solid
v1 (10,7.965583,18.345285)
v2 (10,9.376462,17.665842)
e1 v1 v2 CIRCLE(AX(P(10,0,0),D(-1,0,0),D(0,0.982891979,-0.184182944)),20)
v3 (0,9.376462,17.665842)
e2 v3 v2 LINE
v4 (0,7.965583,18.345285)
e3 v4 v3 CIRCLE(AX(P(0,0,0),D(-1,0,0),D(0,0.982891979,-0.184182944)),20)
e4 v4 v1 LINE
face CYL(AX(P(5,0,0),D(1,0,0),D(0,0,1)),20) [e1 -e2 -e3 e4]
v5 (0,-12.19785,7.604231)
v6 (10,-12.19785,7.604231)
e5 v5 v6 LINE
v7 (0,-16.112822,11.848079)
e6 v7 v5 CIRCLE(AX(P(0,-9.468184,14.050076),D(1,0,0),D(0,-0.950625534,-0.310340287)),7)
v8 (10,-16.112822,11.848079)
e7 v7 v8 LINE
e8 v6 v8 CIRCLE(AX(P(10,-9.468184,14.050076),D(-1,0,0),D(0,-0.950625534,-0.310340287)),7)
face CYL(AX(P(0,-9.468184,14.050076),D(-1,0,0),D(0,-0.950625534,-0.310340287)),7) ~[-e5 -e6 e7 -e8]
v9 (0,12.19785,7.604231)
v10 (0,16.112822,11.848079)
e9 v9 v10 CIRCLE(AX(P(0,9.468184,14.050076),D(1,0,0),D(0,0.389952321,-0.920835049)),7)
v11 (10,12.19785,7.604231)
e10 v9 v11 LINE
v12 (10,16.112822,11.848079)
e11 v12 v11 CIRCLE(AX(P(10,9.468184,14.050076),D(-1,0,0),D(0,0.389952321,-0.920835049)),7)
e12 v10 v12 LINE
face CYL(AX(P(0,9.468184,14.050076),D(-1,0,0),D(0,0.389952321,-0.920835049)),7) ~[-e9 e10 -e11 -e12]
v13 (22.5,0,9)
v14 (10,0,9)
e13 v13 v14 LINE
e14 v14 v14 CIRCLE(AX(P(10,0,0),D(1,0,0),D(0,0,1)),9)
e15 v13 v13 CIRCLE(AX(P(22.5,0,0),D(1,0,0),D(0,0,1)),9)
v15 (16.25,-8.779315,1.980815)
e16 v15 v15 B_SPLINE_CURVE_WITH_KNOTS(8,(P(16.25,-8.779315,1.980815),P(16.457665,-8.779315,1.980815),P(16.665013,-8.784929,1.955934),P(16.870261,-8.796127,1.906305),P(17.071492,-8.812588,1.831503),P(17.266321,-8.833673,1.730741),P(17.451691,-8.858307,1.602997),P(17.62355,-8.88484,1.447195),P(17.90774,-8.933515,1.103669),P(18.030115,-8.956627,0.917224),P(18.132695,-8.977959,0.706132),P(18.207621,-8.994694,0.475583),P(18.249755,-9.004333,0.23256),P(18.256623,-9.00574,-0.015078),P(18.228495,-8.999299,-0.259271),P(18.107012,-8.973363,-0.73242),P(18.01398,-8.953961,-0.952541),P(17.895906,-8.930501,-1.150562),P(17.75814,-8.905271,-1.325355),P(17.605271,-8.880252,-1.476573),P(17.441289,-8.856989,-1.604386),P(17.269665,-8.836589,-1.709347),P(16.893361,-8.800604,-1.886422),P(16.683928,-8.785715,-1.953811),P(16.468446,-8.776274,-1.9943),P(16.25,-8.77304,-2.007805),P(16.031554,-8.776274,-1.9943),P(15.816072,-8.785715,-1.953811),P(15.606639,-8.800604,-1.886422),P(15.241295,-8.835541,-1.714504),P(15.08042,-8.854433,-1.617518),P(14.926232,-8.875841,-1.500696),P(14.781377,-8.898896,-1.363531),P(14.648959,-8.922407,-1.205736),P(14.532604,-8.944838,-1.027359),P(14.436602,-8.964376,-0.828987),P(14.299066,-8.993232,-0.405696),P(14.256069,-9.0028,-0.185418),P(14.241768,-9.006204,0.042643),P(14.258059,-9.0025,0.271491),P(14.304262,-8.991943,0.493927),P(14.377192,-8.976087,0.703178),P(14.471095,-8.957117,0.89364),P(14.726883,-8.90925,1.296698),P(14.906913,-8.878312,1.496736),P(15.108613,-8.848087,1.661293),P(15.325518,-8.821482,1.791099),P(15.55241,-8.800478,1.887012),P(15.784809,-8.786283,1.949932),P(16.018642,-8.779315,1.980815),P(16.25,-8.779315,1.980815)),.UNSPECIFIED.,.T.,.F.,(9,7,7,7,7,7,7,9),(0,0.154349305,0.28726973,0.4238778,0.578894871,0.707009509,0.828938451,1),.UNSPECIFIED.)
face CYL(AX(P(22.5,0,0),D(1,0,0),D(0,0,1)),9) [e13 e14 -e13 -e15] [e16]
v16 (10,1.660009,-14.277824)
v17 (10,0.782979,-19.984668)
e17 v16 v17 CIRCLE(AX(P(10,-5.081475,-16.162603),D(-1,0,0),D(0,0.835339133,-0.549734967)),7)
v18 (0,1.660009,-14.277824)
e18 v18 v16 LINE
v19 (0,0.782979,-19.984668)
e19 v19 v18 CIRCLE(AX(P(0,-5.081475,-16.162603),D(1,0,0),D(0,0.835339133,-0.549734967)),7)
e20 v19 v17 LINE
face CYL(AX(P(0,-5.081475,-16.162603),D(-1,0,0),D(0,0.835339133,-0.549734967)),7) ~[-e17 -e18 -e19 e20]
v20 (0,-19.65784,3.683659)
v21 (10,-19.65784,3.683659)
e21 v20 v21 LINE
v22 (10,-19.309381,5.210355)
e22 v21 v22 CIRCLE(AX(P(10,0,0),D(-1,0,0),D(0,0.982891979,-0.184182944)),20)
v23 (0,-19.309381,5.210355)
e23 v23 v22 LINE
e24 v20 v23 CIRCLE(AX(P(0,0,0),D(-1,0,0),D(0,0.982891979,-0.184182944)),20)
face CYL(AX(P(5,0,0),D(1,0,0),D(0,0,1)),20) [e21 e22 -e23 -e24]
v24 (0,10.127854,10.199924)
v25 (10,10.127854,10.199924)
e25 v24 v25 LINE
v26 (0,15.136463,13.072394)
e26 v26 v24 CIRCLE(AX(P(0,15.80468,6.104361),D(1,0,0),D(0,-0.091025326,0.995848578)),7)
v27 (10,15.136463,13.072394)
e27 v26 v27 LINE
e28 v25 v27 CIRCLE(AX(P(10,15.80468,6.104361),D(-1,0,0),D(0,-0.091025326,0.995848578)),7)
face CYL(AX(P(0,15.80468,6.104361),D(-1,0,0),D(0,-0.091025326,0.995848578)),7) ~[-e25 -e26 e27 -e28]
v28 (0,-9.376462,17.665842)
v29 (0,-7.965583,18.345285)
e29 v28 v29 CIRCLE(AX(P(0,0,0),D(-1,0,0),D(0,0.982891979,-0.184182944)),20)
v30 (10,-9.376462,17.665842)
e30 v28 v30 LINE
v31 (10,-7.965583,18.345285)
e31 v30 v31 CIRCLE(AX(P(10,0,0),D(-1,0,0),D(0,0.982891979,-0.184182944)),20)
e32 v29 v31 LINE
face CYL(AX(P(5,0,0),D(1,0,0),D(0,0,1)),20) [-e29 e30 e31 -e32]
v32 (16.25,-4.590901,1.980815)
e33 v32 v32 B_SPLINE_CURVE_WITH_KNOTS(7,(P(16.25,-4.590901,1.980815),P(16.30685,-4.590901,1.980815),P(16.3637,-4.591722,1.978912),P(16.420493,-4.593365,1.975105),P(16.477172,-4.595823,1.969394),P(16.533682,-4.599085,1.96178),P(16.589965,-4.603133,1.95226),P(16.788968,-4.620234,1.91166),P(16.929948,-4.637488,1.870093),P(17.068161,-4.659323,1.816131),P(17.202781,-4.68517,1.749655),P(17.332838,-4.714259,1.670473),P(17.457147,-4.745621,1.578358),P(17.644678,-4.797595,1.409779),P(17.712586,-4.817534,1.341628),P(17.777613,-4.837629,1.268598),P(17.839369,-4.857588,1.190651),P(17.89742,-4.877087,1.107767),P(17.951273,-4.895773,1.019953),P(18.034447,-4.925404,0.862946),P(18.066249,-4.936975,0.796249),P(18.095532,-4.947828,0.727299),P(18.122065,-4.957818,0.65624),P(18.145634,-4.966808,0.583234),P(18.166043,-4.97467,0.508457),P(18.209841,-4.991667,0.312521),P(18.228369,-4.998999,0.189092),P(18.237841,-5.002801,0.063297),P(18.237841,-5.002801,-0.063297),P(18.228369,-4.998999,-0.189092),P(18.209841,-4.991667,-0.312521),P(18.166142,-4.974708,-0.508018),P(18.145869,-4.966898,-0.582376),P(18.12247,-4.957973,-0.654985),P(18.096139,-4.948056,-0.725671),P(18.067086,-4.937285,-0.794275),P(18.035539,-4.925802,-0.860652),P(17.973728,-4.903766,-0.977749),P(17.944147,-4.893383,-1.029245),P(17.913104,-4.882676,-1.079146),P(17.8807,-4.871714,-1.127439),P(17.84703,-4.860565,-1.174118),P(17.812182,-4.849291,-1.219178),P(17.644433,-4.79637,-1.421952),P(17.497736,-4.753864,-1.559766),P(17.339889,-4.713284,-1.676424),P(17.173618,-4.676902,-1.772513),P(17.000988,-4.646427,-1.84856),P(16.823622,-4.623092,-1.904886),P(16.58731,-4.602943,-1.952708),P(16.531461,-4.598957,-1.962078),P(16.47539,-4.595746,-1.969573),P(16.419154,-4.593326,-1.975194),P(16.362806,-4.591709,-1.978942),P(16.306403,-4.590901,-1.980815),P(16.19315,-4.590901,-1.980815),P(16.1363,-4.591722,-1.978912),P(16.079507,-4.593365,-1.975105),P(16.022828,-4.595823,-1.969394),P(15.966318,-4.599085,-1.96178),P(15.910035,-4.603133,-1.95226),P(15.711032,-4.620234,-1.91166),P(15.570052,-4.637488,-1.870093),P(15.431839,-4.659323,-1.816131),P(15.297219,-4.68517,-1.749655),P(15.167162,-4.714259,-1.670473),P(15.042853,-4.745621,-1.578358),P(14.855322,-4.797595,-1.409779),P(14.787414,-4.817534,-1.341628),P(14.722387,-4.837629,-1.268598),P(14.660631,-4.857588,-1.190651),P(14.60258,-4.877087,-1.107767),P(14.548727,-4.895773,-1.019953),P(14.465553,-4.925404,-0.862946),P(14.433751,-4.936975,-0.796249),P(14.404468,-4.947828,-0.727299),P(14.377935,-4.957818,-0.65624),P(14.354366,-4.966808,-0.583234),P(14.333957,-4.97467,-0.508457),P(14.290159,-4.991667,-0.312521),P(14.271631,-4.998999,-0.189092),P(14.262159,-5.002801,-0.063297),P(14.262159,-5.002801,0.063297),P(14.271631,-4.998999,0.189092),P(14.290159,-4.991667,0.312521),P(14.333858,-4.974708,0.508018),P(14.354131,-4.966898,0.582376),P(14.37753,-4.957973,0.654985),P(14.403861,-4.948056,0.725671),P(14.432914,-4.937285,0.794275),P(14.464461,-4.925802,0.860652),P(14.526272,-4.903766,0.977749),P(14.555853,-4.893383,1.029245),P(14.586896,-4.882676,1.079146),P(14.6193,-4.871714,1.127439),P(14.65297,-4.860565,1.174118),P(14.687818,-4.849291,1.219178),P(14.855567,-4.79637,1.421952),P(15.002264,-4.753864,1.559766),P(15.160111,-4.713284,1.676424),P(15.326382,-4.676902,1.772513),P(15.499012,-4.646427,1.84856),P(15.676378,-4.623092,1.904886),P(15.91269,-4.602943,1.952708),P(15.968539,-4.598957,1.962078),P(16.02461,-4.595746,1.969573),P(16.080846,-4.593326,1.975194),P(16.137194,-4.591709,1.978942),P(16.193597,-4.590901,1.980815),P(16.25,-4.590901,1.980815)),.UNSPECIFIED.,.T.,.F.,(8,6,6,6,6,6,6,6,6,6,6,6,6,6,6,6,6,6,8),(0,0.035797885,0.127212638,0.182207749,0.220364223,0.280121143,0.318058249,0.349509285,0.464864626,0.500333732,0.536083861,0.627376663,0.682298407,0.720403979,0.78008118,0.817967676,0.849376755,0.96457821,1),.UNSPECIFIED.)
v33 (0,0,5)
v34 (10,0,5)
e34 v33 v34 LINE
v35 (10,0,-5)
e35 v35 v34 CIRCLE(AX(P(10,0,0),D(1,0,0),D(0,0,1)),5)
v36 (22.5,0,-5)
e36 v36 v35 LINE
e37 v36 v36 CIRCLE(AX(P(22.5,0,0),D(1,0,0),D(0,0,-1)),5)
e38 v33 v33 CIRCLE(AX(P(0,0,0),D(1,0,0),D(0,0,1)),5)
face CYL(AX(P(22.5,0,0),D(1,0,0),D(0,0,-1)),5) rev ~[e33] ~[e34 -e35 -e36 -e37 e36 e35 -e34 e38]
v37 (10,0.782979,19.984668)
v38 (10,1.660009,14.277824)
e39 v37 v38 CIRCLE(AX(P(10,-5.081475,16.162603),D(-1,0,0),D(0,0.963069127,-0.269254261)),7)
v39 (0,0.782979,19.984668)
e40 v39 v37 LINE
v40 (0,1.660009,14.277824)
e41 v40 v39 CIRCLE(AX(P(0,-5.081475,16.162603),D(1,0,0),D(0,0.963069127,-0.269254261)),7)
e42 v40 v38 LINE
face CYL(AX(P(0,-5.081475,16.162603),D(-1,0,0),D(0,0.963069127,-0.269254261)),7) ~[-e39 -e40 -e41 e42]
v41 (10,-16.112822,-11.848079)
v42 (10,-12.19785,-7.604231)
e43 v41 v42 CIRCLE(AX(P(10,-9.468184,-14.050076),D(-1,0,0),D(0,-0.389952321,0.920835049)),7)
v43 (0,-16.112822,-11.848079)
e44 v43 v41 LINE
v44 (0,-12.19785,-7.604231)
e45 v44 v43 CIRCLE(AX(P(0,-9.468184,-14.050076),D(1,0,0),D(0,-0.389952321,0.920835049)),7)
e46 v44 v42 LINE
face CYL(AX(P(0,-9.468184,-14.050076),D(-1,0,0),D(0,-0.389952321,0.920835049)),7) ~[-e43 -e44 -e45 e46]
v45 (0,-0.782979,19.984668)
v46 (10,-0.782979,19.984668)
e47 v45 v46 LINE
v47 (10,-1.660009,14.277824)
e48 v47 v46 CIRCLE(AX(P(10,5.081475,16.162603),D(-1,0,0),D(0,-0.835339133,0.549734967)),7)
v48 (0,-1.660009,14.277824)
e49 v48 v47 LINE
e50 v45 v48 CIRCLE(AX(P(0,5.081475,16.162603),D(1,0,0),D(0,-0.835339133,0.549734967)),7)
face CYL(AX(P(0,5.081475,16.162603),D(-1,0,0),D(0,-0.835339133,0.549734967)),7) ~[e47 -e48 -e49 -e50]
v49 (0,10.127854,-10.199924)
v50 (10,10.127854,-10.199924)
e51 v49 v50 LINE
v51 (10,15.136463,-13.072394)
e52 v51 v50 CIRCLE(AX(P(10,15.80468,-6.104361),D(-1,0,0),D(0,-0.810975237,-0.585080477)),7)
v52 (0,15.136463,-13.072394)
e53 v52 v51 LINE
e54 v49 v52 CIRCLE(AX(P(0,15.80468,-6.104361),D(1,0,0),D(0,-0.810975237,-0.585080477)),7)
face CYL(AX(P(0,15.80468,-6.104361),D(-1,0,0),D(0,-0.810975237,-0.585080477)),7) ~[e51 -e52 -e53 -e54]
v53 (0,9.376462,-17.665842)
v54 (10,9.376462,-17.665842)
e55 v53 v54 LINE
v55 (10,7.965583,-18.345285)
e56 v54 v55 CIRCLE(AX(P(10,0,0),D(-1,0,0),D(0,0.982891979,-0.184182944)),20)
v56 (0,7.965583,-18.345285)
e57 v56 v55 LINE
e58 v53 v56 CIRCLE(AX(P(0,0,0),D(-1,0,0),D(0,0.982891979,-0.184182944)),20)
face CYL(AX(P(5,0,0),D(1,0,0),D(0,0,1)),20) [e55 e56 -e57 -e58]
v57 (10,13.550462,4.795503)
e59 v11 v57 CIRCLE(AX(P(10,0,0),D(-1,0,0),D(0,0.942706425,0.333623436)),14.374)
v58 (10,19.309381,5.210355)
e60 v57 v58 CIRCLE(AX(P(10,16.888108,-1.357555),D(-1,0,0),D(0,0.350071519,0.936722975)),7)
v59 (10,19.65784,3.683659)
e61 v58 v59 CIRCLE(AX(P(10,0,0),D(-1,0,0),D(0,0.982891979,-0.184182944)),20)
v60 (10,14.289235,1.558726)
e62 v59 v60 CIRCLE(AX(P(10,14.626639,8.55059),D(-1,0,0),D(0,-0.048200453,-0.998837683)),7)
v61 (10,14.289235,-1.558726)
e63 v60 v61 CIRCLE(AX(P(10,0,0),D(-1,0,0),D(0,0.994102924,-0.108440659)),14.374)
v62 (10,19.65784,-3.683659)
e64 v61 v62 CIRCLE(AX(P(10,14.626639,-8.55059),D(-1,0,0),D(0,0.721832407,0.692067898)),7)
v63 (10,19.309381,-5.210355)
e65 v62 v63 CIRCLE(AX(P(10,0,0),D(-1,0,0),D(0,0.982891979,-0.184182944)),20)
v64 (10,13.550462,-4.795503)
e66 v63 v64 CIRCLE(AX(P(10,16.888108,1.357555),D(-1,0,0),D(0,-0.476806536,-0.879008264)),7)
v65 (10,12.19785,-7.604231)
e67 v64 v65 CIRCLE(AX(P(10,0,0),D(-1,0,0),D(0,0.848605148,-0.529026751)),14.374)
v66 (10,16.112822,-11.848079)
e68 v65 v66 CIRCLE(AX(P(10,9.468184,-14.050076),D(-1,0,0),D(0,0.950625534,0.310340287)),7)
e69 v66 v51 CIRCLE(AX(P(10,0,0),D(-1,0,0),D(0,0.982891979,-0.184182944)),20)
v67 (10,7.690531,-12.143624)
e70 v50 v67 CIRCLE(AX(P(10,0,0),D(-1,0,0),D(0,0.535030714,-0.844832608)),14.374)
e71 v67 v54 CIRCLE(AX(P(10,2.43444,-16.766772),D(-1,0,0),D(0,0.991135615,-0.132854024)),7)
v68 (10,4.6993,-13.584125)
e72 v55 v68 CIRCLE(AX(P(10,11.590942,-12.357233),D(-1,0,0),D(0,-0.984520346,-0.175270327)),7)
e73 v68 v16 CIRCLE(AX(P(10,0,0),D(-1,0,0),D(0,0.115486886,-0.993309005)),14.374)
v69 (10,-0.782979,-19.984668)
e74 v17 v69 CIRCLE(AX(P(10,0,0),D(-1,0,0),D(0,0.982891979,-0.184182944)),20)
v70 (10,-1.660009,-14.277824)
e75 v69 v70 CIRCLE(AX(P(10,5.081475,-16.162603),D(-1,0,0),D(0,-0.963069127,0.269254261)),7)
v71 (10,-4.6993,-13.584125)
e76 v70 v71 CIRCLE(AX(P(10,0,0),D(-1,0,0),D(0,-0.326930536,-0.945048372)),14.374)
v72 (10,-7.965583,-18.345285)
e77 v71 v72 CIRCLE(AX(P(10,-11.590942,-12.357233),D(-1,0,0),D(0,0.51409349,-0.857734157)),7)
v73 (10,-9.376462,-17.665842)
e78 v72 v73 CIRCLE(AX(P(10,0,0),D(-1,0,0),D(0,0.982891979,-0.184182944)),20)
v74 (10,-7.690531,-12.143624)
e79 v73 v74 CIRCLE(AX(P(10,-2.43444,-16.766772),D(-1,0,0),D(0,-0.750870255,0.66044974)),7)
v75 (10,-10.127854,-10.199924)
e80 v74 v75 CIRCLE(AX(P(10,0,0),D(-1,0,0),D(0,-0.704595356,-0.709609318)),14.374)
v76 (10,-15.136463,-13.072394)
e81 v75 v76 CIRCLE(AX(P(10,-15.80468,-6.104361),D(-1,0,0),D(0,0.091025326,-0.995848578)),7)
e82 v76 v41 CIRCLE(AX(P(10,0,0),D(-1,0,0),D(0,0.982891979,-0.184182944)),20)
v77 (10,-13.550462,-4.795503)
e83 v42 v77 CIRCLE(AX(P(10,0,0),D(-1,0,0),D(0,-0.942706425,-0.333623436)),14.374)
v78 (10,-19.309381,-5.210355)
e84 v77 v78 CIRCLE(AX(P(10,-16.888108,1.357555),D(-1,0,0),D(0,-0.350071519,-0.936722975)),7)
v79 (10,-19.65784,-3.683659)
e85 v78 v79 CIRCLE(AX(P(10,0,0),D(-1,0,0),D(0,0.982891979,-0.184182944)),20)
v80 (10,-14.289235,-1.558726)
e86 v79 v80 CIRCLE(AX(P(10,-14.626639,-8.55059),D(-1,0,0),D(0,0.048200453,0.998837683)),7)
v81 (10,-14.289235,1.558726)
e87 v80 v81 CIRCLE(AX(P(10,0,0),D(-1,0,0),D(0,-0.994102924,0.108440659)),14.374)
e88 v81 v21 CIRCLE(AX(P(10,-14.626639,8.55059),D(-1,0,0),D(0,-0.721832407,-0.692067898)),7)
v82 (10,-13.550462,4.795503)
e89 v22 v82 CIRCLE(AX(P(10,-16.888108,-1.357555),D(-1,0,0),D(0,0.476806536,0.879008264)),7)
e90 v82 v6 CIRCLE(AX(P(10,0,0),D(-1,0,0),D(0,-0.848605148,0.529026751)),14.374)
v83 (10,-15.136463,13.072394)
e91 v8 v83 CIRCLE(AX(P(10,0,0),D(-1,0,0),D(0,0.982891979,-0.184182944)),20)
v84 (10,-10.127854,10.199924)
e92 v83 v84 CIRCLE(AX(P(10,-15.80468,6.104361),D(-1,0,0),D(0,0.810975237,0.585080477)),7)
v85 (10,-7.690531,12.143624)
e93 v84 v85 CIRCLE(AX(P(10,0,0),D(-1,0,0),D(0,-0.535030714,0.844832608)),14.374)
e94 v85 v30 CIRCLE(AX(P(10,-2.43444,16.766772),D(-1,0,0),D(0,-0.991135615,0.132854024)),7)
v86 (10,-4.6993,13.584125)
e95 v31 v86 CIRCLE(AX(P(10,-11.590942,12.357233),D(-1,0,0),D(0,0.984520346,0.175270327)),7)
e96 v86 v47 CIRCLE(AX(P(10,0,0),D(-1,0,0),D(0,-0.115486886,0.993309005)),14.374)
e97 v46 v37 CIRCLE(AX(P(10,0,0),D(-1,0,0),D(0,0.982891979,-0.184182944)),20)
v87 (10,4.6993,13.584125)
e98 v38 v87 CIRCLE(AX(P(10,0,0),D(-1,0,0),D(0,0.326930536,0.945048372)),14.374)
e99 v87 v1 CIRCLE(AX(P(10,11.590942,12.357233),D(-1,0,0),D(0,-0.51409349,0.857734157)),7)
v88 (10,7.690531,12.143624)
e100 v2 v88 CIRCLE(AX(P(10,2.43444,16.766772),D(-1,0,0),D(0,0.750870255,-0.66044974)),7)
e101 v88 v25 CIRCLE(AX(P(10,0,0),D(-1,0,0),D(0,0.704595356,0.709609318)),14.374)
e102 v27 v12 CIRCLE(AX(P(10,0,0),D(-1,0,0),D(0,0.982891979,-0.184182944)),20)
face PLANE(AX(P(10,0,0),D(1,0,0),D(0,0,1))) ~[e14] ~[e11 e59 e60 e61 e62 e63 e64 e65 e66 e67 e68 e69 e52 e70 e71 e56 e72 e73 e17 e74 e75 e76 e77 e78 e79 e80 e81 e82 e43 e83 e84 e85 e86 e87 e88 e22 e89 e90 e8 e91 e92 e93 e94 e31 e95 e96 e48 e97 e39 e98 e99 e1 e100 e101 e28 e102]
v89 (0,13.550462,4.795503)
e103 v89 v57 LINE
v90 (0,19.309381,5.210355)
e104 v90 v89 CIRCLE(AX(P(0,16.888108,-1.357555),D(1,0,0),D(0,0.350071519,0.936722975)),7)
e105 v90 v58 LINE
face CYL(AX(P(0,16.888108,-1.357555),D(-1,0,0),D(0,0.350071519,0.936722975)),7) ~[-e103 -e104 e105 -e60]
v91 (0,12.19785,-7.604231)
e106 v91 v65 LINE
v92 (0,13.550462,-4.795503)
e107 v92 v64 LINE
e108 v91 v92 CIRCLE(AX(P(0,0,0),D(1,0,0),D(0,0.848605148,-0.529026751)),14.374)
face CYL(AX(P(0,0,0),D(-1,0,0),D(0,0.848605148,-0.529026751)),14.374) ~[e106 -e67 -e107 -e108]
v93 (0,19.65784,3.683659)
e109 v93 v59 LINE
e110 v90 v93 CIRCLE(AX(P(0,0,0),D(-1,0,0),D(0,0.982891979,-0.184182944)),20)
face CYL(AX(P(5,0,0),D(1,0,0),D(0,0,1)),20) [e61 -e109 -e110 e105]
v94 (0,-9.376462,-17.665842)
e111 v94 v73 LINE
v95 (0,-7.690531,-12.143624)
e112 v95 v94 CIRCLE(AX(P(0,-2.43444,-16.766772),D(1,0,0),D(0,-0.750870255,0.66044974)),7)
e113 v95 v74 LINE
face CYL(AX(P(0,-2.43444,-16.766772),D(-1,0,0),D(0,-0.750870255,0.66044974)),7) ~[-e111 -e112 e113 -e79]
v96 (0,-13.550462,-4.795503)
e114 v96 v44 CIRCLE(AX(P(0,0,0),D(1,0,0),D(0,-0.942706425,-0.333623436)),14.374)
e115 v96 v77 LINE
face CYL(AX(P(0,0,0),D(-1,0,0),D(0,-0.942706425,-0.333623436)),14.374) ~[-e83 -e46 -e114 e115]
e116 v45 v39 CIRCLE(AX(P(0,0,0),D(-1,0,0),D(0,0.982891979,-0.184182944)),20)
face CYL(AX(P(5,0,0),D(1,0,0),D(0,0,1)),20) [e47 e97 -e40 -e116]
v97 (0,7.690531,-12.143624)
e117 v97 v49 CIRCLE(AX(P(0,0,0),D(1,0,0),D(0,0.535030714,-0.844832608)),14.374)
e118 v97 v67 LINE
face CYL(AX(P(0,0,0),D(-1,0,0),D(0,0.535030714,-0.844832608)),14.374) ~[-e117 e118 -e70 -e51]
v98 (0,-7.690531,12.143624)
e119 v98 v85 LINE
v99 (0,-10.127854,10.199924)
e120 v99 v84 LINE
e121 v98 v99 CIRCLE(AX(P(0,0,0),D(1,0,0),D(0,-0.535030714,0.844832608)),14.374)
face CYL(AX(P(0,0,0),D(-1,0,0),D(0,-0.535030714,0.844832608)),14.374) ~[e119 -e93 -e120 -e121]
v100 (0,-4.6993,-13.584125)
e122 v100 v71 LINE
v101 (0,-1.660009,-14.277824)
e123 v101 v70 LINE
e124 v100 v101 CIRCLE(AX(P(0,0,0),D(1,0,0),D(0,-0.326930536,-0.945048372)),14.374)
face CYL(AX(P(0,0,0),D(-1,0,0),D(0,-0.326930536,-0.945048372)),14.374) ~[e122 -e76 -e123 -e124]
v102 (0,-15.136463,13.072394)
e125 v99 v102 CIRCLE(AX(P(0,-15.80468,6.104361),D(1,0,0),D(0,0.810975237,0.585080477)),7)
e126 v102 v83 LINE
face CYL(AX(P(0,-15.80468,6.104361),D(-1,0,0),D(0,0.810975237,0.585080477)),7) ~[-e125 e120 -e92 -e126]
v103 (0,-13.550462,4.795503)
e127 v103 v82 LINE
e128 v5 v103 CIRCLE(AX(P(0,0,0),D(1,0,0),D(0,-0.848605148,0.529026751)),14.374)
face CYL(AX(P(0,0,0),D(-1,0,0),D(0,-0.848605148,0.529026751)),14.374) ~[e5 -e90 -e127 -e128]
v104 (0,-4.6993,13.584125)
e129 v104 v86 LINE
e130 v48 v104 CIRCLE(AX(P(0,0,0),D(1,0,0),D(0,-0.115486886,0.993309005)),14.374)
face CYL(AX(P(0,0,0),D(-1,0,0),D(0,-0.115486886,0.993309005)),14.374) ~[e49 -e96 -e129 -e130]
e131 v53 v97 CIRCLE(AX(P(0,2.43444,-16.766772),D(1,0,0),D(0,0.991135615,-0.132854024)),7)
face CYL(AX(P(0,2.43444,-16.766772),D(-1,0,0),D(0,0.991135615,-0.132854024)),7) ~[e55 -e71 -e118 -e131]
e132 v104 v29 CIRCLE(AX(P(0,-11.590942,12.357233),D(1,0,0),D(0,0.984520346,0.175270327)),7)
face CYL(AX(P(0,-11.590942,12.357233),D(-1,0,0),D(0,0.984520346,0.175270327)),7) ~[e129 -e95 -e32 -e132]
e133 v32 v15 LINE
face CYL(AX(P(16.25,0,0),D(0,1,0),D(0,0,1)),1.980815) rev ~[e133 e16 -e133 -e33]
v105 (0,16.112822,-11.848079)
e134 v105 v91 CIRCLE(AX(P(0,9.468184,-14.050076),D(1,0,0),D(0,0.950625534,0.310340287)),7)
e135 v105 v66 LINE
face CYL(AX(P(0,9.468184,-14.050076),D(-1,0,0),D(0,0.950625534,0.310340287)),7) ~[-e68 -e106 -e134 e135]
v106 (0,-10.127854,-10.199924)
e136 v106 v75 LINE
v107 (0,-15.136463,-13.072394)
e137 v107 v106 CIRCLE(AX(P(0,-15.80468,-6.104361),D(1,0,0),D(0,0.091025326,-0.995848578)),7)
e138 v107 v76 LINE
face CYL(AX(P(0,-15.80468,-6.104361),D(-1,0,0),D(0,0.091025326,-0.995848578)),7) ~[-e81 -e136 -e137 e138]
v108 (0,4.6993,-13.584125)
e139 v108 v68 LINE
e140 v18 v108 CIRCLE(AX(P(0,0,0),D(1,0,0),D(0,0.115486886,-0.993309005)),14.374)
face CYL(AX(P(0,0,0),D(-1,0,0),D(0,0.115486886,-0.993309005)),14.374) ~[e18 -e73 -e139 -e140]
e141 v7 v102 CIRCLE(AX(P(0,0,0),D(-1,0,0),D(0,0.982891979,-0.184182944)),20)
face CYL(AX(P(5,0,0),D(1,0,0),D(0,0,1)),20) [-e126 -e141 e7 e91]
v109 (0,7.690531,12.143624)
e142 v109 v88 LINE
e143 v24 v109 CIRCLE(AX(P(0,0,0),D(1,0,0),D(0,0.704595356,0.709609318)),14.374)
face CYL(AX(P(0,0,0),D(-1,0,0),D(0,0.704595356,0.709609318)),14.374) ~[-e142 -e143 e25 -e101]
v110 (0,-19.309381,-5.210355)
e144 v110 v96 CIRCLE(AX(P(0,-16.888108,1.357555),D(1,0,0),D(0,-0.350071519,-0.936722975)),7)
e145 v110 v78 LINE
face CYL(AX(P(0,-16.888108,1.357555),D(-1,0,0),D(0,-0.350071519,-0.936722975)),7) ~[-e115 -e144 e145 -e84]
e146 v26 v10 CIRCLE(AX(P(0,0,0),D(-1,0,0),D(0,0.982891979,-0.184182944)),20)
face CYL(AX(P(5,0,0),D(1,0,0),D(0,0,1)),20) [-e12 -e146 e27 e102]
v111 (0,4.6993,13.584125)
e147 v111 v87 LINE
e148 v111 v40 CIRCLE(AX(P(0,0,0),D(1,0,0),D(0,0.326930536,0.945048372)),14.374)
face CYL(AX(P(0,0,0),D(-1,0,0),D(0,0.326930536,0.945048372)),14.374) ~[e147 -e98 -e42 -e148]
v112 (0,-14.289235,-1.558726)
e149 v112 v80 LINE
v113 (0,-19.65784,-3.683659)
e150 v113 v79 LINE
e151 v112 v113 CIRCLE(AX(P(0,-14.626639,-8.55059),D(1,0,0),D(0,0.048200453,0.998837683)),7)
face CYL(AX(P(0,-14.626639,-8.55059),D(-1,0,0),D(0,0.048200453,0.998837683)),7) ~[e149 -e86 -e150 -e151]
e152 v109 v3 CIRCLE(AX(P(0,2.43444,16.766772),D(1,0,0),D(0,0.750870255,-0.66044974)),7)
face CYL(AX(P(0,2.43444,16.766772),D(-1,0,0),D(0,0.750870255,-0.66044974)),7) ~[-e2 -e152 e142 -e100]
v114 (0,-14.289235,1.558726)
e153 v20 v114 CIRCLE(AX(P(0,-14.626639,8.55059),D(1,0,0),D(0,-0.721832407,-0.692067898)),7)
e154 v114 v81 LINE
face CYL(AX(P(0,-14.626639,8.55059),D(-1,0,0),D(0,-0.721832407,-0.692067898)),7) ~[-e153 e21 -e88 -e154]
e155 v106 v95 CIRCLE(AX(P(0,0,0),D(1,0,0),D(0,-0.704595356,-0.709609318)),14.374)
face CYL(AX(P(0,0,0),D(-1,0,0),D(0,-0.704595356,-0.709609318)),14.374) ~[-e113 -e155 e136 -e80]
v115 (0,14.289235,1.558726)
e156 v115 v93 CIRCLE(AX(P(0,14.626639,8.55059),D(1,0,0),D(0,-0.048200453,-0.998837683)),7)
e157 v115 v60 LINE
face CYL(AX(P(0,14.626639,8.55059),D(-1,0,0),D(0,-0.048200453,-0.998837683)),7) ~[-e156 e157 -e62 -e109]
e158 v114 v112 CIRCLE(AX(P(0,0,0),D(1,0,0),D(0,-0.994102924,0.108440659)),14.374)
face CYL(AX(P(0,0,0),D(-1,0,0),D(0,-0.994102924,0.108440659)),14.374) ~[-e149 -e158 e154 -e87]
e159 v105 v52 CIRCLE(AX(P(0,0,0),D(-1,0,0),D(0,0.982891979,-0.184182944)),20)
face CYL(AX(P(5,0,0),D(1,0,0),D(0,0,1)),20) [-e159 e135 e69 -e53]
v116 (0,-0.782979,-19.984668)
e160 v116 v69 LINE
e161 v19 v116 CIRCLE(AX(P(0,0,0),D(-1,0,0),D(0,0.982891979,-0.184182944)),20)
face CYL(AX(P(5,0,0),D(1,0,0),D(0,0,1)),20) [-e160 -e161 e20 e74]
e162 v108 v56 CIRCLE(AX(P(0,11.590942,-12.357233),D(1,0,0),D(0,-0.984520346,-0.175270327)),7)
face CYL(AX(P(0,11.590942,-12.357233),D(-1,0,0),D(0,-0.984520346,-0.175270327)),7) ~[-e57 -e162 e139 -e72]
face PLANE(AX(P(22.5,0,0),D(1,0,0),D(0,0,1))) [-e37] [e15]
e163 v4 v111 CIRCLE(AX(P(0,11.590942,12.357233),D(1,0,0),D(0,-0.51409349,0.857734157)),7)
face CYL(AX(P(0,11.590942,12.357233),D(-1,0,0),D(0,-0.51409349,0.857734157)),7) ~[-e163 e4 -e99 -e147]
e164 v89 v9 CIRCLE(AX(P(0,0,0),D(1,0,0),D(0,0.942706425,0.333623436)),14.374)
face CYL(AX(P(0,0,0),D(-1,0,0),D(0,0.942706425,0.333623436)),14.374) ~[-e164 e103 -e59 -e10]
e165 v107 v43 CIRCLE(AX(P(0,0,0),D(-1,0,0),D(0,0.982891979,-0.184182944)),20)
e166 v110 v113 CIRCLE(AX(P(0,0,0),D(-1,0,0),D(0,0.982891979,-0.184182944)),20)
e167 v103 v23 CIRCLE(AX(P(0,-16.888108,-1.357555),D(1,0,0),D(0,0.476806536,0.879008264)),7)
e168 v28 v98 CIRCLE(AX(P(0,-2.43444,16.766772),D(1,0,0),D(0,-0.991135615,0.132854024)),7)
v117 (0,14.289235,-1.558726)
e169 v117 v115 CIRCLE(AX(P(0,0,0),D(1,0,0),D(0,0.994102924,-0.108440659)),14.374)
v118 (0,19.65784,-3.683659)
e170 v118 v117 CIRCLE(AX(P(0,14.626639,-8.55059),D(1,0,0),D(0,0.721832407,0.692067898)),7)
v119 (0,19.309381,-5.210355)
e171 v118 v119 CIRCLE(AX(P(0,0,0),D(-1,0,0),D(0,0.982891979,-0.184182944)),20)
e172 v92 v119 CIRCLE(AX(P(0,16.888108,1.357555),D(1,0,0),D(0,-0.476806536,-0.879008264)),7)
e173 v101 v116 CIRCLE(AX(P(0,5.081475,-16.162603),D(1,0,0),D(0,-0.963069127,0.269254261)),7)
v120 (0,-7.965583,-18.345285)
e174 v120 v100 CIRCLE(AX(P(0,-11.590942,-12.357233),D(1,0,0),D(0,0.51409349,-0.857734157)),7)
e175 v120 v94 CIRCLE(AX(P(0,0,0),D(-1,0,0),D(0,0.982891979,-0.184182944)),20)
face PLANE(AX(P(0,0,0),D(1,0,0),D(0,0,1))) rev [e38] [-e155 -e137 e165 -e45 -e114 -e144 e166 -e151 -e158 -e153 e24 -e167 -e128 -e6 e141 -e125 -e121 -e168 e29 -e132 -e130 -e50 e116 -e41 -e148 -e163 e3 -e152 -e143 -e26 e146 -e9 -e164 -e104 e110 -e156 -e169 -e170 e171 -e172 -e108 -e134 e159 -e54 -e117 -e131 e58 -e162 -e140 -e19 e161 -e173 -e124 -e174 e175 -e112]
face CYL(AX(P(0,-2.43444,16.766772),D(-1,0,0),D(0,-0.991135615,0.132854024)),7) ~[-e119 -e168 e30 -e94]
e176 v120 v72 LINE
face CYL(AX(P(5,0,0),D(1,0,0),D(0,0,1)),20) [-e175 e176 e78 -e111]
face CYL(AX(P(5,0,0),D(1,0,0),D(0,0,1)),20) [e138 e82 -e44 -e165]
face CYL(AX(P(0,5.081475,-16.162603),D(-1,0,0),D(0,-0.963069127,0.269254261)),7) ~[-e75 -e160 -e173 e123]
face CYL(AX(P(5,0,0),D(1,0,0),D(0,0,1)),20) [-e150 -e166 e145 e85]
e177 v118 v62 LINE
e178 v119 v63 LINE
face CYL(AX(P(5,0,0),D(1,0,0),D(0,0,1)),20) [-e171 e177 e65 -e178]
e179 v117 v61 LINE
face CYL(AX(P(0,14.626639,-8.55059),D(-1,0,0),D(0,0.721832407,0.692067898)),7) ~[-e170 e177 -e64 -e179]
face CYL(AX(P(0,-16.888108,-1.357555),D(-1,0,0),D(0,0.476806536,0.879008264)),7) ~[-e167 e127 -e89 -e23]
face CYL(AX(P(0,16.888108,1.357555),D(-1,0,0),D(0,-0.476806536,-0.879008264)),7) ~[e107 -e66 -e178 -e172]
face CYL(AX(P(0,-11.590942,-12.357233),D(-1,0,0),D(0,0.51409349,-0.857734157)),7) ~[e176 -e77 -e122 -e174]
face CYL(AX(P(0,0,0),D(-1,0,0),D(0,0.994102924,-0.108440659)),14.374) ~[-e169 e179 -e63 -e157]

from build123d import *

# Parameters (mm, degrees)
BASPROSKE_W             = 10
BASPROSKE_H             = 20
TOOTHCUT_DEPTH          = 31
TEETHCUTS_COUNT         = 14
TEETHCUTS_ANGLE         = 334.285714286
BORSKE_R                = 5
BORE_DEPTH              = 50.0000508
BOSS_EXTRU_1_START      = 12.5
ESQUISSE1_R             = 9
ESQUISSE1_R_2           = 5
BOSS_EXTRU_1_DEPTH      = 12.5
ESQUISSE2_R             = 1.980815445
ENL_V_MAT_EXTRU_1_DEPTH = 12.5


with BuildPart() as part:
    # BasProSke → Base-Revolve (revolve)
    with BuildSketch(Plane(origin=(0, 0, 0), x_dir=(1, 0, 0), z_dir=(0, 1, 0)), mode=Mode.PRIVATE) as base_revolve_sk:
        with Locations((5, 10)):
            Rectangle(BASPROSKE_W, BASPROSKE_H)
    revolve(base_revolve_sk.sketch.rotate(Axis((-10, 0, 0), (1, 0, 0)), 180), axis=Axis((-10, 0, 0), (1, 0, 0)))

    # TooCutSke → ToothCut (cut, through all)
    with BuildSketch(Plane(origin=(0, 0, 0), x_dir=(0, 0, -1), z_dir=(1, 0, 0))):
        with BuildLine():
            ThreePointArc((1.558726024, 14.28923543), (0, 14.374), (-1.558726024, 14.28923543))
            ThreePointArc((-1.558726024, 14.28923543), (-2.047638508, 17.217318907), (-3.706114514, 19.679465449))
            ThreePointArc((-3.706114514, 19.679465449), (0, 20.0254), (3.706114514, 19.679465449))
            ThreePointArc((3.706114514, 19.679465449), (2.047638508, 17.217318907), (1.558726024, 14.28923543))
        make_face()
    toothcut = extrude(amount=TOOTHCUT_DEPTH, mode=Mode.SUBTRACT)

    # TeethCuts: ToothCut ×14 about axis
    teethcuts_axis = Axis((-10, 0, 0), (1, 0, 0))
    for i in range(1, TEETHCUTS_COUNT):
        add(toothcut.rotate(teethcuts_axis, i * TEETHCUTS_ANGLE / (TEETHCUTS_COUNT - 1)), mode=Mode.SUBTRACT)

    # BorSke → Bore (cut, symmetric)
    with BuildSketch(Plane(origin=(0, 0, 0), x_dir=(0, 0, -1), z_dir=(1, 0, 0))):
        with Locations(Location((0, 0, 0), (0, 0, 180))):
            Circle(BORSKE_R)
    extrude(amount=BORE_DEPTH, both=True, mode=Mode.SUBTRACT)

    # Esquisse1 → Boss.-Extru.1 (add)
    with BuildSketch(Plane(origin=(10, 0, 0), x_dir=(0, 0, -1), z_dir=(1, 0, 0)).offset(BOSS_EXTRU_1_START)):
        with Locations(Location((0, 0, 0), (0, 0, 180))):
            Circle(ESQUISSE1_R)
        Circle(ESQUISSE1_R_2, mode=Mode.SUBTRACT)
    extrude(amount=-BOSS_EXTRU_1_DEPTH)

    # Esquisse2 → Enlèv. mat.-Extru.1 (cut)
    with BuildSketch(Plane(origin=(0, 0, 0), x_dir=(1, 0, 0), z_dir=(0, 1, 0))):
        with Locations(Location((16.25, 0, 0), (0, 0, 270))):
            Circle(ESQUISSE2_R)
    extrude(amount=-ENL_V_MAT_EXTRU_1_DEPTH, mode=Mode.SUBTRACT)


solid = part.part
